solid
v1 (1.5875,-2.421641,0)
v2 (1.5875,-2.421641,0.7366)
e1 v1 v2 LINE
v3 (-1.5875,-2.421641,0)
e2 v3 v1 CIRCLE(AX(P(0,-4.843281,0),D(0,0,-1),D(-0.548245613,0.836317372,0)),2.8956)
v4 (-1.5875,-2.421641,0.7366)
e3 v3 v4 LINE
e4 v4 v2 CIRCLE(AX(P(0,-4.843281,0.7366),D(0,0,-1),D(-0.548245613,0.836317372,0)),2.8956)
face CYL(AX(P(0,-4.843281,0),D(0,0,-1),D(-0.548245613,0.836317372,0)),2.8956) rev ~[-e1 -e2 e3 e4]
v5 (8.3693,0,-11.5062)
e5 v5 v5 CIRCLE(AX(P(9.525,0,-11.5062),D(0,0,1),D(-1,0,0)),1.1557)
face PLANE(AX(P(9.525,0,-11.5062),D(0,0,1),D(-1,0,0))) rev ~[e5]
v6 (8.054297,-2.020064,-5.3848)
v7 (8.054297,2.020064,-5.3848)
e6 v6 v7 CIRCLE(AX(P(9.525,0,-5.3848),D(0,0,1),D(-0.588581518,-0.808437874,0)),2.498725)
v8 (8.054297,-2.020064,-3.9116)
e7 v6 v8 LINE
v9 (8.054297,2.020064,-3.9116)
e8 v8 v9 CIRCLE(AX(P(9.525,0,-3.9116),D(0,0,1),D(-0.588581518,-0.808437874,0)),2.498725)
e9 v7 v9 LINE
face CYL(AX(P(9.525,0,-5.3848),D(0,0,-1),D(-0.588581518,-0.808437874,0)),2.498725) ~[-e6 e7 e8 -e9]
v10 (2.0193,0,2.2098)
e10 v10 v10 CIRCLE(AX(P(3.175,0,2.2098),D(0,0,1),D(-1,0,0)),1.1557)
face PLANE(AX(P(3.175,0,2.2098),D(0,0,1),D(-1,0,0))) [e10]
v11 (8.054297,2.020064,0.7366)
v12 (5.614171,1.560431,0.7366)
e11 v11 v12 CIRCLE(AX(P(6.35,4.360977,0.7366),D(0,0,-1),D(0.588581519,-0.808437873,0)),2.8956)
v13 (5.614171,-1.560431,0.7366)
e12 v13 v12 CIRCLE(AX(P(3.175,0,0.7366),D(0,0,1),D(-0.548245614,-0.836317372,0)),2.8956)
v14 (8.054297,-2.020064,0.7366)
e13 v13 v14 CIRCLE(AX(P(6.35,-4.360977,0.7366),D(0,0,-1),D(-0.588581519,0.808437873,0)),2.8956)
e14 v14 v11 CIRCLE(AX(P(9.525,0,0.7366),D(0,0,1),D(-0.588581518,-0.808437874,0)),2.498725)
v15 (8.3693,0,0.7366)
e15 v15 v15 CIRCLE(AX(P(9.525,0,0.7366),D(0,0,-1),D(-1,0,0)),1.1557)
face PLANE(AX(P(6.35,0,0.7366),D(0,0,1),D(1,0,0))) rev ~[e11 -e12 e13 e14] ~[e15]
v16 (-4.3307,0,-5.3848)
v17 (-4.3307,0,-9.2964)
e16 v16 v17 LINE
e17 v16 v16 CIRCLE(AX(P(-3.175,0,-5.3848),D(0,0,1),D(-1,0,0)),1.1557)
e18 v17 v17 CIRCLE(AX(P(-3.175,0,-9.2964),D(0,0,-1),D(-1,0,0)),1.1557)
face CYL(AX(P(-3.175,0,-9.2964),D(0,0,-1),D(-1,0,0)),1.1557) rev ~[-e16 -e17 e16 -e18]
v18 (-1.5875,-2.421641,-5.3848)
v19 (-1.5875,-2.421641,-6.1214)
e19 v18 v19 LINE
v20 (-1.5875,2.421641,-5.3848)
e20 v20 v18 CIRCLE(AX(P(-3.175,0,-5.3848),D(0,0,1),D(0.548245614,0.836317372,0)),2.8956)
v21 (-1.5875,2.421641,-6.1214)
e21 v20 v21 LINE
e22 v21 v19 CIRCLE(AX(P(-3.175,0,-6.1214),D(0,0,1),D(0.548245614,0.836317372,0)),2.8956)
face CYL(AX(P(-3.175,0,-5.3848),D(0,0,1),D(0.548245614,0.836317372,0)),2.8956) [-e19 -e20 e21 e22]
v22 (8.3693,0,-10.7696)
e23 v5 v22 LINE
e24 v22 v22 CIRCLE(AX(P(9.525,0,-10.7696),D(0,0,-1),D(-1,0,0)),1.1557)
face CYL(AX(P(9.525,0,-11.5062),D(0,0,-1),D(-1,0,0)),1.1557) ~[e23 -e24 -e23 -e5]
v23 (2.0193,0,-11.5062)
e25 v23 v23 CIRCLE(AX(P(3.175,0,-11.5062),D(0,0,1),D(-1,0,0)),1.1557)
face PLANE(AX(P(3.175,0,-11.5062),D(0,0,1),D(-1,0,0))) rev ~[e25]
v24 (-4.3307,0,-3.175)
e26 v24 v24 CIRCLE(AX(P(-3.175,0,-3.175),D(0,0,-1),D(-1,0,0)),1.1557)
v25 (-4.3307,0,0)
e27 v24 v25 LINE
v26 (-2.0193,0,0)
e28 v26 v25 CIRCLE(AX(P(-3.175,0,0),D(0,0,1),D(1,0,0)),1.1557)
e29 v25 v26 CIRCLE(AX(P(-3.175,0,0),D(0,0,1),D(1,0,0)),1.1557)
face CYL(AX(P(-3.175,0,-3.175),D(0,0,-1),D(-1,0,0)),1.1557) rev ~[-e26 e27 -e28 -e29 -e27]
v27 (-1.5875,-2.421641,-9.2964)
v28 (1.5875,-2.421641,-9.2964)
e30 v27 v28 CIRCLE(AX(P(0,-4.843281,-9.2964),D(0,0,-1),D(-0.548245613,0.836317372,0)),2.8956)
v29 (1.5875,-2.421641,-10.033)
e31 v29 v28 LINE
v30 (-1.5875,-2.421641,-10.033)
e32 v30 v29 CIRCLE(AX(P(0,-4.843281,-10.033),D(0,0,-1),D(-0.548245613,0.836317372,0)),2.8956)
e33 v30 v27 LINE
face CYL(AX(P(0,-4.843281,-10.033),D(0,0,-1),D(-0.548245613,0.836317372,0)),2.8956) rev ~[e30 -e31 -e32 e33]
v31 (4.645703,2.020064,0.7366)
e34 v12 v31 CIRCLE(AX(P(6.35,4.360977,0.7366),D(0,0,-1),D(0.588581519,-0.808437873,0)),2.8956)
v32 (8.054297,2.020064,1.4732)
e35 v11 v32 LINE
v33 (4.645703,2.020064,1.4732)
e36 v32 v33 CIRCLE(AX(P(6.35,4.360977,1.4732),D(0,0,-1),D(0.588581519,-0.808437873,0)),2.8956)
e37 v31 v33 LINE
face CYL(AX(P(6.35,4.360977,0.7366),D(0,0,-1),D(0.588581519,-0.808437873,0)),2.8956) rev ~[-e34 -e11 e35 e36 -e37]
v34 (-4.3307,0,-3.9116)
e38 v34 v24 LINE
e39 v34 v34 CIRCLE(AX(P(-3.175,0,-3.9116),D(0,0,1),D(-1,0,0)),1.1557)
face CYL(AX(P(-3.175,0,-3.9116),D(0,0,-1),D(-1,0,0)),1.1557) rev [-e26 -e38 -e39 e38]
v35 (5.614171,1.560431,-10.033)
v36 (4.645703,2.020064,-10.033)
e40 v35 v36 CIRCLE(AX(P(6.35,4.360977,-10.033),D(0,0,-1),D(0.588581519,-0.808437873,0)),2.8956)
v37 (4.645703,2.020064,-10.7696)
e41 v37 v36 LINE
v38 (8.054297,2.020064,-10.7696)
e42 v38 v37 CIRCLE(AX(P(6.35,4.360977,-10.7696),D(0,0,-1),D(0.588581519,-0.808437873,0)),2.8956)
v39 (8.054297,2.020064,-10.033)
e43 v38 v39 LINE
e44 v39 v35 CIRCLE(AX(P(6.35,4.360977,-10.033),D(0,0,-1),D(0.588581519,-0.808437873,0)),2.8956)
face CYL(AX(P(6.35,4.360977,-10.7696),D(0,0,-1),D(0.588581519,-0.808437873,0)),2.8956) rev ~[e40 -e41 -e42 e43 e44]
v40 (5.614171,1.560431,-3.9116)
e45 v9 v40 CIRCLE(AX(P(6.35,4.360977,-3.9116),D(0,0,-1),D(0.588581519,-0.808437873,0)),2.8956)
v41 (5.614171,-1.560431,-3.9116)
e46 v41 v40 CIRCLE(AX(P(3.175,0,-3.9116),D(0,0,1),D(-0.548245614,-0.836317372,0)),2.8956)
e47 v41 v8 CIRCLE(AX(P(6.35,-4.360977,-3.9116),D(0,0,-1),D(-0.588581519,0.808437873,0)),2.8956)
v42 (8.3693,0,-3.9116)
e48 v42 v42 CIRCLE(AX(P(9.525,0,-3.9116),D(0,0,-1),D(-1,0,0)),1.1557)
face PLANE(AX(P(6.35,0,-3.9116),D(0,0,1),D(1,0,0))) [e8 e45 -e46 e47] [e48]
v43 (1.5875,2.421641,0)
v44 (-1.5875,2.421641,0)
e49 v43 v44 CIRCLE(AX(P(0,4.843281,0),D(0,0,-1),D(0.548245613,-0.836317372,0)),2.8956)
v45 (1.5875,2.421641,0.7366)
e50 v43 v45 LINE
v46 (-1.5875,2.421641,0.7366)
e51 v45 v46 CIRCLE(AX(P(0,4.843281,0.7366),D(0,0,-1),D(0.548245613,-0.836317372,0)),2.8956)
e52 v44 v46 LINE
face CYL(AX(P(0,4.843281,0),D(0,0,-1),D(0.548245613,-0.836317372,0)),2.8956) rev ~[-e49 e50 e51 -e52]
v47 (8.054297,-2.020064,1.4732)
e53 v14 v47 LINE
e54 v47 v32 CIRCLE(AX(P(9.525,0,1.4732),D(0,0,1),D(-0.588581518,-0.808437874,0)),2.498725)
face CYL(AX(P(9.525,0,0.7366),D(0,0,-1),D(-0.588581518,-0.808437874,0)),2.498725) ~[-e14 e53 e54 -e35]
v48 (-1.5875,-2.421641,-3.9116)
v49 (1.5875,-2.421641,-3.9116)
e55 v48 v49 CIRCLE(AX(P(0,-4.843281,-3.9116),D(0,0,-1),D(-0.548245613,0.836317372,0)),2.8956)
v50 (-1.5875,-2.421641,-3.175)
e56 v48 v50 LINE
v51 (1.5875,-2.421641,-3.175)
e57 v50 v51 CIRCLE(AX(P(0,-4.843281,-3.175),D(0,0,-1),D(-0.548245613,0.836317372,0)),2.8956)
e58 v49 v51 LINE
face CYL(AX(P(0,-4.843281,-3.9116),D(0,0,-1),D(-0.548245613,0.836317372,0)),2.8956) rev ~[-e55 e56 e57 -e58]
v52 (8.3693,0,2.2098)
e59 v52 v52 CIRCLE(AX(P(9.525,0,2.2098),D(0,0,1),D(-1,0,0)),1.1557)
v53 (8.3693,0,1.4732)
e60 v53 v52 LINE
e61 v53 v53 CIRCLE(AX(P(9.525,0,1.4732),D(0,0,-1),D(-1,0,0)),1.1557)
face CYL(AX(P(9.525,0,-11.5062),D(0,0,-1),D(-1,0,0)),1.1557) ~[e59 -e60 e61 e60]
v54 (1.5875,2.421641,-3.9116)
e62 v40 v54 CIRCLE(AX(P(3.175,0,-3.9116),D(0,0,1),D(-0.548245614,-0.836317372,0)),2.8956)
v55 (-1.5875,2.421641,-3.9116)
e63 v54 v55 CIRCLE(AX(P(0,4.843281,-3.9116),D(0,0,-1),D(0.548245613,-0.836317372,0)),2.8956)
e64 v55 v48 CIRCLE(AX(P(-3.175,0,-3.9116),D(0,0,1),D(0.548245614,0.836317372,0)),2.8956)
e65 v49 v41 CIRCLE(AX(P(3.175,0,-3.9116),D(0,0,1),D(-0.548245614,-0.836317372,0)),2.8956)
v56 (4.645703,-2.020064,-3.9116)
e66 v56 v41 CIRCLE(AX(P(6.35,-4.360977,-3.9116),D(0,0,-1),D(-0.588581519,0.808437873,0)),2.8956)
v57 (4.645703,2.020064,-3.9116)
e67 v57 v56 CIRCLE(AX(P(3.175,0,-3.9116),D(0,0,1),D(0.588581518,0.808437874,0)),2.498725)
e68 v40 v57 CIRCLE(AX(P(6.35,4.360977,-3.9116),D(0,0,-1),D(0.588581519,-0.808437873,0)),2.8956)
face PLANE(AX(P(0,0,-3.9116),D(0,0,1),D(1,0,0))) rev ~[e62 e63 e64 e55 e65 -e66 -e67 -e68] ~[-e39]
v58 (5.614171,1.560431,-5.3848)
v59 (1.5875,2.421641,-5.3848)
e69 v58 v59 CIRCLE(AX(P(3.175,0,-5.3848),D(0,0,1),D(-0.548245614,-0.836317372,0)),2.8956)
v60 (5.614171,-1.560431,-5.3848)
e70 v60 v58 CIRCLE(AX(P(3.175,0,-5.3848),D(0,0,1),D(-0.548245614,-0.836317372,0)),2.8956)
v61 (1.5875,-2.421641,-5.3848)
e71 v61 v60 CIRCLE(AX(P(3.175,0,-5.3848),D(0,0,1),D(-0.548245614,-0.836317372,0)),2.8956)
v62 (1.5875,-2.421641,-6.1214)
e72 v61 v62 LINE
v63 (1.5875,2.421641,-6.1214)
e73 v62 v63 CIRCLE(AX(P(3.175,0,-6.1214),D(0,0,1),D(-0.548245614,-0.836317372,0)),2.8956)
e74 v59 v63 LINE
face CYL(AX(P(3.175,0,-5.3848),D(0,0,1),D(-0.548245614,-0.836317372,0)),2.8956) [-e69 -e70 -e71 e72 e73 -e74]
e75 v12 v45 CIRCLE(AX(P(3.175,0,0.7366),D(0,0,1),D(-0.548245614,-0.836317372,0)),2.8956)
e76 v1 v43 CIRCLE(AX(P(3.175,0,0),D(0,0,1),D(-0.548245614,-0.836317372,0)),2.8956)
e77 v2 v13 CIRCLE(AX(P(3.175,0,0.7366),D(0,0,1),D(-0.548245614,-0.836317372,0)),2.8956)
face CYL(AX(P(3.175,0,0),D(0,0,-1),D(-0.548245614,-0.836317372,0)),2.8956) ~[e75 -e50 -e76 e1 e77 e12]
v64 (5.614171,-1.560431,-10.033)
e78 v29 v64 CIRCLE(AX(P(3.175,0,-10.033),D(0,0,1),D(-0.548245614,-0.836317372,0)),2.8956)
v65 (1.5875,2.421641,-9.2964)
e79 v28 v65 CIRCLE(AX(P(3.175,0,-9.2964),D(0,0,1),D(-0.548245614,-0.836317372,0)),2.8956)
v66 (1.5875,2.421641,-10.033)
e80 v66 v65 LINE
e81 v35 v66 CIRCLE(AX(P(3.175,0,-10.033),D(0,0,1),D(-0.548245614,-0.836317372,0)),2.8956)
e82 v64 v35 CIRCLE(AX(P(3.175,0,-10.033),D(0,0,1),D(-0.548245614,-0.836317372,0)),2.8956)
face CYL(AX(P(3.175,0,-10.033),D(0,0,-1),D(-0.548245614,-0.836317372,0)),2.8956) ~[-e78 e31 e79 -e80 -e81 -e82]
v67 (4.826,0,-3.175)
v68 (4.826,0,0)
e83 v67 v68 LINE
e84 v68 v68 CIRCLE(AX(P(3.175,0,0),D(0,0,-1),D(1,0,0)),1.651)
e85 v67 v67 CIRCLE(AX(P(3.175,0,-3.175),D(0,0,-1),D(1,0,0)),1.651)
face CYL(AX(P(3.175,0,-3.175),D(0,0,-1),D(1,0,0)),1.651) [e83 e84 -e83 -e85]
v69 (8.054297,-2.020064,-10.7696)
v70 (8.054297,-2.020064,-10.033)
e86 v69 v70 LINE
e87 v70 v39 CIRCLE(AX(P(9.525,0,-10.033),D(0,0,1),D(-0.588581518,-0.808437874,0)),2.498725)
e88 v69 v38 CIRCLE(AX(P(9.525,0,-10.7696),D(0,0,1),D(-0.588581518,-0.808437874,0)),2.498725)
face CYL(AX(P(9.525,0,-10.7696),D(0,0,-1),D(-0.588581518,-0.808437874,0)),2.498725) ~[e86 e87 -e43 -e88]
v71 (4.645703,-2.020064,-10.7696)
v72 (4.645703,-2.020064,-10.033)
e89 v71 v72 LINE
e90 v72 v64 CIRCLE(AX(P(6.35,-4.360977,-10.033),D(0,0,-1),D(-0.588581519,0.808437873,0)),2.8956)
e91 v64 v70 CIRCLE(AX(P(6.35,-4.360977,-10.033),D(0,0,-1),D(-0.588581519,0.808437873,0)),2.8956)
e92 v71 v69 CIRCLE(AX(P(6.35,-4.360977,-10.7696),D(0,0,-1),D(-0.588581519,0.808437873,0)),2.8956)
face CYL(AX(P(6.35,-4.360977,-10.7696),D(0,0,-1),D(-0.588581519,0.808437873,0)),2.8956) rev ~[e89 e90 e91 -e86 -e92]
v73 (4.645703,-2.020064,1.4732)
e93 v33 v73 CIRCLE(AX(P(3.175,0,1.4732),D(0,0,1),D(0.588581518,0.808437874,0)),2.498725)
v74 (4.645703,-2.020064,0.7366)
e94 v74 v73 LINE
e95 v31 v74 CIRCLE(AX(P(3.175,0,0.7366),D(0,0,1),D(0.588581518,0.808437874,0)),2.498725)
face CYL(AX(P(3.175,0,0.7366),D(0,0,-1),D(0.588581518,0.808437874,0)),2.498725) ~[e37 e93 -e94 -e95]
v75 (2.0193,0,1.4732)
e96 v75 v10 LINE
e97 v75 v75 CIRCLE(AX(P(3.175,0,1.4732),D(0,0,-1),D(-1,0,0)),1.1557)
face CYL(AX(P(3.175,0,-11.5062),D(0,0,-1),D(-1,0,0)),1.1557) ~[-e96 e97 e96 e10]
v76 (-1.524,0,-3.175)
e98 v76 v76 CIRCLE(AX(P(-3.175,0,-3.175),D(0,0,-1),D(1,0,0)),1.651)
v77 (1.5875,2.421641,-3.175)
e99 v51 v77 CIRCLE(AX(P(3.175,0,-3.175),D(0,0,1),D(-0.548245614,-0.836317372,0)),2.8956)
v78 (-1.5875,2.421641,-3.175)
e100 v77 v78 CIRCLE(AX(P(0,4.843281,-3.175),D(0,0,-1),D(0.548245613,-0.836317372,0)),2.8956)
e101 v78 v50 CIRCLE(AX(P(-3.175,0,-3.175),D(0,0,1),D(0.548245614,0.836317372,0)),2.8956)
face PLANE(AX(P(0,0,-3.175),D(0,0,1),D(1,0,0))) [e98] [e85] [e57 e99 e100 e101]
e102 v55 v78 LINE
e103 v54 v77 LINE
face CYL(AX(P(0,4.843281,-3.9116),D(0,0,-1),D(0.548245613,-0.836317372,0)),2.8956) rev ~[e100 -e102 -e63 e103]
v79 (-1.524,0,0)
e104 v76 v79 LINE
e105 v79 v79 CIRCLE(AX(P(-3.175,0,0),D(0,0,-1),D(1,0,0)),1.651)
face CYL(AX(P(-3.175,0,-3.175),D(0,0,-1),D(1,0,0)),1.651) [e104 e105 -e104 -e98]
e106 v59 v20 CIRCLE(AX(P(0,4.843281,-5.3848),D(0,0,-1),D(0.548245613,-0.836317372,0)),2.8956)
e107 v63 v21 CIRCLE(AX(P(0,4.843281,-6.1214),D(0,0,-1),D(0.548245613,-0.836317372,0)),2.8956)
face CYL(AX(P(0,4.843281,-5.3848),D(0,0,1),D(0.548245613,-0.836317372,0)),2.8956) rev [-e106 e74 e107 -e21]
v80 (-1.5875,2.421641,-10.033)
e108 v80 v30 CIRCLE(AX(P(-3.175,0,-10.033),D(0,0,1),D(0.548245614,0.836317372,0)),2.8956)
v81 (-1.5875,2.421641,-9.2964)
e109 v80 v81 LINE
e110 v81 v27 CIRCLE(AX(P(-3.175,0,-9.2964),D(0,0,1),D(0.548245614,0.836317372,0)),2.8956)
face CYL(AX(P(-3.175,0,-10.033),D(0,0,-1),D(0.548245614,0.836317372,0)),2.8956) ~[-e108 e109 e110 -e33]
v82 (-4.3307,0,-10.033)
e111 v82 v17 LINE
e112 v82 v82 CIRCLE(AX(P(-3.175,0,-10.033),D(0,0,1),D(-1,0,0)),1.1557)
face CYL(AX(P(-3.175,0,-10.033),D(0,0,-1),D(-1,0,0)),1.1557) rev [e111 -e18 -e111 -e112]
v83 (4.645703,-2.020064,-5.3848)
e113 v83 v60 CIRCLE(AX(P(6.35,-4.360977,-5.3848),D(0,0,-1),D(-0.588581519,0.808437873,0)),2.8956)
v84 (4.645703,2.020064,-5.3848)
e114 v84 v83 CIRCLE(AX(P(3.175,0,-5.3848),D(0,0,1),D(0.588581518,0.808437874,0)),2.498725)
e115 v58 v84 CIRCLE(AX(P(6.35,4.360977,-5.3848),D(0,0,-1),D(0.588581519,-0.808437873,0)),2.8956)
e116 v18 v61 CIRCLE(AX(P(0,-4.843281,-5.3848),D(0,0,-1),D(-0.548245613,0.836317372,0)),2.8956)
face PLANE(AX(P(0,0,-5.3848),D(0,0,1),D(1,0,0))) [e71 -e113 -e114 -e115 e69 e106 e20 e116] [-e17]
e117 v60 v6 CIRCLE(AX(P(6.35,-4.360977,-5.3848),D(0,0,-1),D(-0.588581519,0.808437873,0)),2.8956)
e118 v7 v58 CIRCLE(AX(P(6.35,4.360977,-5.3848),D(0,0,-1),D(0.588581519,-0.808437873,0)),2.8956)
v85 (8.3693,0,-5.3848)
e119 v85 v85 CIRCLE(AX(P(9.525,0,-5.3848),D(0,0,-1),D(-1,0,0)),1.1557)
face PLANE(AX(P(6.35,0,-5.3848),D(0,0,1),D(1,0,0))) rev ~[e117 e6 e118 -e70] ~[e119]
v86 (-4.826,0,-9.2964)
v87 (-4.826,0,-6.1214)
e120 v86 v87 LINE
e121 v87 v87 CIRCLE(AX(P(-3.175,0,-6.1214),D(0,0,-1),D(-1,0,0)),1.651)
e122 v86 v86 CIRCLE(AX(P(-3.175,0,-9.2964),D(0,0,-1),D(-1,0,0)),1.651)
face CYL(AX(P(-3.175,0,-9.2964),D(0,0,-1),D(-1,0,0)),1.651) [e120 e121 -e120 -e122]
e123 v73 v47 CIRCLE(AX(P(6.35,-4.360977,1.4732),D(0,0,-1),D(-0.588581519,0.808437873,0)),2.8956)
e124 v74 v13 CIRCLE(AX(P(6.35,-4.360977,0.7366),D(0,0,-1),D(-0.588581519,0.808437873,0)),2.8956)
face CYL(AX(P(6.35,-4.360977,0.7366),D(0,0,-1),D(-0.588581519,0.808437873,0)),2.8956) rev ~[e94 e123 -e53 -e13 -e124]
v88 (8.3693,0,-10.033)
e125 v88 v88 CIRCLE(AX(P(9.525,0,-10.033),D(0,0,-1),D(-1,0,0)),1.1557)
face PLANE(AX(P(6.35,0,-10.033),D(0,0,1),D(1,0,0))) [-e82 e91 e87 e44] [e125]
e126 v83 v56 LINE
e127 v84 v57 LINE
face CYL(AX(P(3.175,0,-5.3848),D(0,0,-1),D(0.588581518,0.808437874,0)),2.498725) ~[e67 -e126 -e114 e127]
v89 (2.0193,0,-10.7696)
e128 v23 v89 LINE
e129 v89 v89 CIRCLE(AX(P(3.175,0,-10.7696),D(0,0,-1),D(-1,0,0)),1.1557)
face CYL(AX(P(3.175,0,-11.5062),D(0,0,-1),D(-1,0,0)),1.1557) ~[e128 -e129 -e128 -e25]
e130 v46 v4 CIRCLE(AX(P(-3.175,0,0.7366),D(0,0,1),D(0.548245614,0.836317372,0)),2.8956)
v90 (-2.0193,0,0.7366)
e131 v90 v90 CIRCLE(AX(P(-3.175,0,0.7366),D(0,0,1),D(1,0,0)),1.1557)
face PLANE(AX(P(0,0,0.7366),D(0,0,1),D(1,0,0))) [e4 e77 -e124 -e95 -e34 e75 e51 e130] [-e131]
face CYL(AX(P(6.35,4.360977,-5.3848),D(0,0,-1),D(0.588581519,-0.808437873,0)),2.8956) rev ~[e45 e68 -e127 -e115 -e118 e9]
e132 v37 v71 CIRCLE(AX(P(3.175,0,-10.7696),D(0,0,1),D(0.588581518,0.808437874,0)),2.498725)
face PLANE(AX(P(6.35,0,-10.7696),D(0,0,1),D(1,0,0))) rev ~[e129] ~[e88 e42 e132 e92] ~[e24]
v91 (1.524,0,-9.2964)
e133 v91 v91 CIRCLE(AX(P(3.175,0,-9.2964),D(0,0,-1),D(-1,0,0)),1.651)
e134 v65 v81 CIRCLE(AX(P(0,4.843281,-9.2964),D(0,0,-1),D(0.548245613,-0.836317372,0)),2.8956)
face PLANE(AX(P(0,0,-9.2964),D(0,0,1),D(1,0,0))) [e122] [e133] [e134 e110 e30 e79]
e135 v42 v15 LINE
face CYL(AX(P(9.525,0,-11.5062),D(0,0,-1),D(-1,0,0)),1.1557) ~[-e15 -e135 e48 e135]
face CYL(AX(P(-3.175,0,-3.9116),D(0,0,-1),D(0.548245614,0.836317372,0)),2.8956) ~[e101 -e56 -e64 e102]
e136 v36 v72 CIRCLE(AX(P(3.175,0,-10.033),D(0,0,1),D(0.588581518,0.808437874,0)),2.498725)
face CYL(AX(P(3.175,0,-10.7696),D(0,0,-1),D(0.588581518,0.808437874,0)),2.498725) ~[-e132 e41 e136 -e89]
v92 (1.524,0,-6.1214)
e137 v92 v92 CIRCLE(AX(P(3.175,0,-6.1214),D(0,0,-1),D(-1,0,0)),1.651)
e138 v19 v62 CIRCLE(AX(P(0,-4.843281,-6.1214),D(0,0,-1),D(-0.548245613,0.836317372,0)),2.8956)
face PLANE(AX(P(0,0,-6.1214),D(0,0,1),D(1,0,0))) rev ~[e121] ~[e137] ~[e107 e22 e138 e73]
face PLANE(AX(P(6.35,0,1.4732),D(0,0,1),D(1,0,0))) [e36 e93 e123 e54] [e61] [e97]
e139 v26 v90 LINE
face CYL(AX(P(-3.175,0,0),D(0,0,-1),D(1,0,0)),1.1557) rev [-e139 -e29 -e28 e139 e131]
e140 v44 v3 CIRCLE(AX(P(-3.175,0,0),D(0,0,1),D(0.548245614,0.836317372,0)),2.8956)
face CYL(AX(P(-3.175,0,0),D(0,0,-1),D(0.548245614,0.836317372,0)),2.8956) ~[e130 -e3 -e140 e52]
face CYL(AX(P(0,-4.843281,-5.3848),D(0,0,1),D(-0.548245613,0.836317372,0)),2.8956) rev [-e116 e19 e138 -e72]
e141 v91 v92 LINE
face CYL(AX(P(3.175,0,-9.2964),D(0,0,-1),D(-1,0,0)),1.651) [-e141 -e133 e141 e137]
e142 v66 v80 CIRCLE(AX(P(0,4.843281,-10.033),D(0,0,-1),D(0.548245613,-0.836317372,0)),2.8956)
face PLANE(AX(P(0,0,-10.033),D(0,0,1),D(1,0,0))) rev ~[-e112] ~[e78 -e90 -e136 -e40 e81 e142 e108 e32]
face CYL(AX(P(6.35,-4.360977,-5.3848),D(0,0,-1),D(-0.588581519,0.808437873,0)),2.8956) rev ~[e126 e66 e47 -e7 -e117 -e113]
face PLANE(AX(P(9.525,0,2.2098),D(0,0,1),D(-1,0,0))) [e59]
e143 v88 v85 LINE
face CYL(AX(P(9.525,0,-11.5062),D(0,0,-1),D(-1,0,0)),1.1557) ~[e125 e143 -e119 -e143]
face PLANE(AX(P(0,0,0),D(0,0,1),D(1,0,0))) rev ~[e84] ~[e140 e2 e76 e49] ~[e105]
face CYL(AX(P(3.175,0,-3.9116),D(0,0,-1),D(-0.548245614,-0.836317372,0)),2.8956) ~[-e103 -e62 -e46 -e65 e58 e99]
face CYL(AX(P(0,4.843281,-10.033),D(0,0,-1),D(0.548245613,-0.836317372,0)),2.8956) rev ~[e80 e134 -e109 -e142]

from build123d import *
from build123d.topology import SkipClean

# Parameters (mm, degrees)
SKETCH1_R                 = 1.1557
BOSS_EXTRUDE1_DEPTH       = 0.7366
BOSS_EXTRUDE2_START       = 3.175
SKETCH2_R                 = 1.651
SKETCH2_R_2               = 1.1557
BOSS_EXTRUDE2_DEPTH       = 3.175
BOSS_EXTRUDE3_START       = -3.9116
SKETCH1_2_R               = 1.1557
BOSS_EXTRUDE3_DEPTH       = 0.7366
BOSS_EXTRUDE4_START       = -5.3848
SKETCH1_3_R               = 1.1557
BOSS_EXTRUDE4_DEPTH       = 0.7366
BOSS_EXTRUDE5_START       = 9.2964
SKETCH2_2_R               = 1.651
SKETCH2_2_R_2             = 1.1557
BOSS_EXTRUDE5_DEPTH       = 3.175
BOSS_EXTRUDE6_START       = -10.033
SKETCH1_4_R               = 1.1557
BOSS_EXTRUDE6_DEPTH       = 0.7366
BOSS_EXTRUDE7_DEPTH       = 0.7366
BOSS_EXTRUDE8_START       = -6.1214
BOSS_EXTRUDE8_DEPTH       = 1.4732
BOSS_EXTRUDE9_START       = -11.5062
BOSS_EXTRUDE9_DEPTH       = 0.7366
BOSS_EXTRUDE10_DEPTH      = 0.7366
BOSS_EXTRUDE10_DEPTH_BACK = 12.9794
SKETCH4_R                 = 1.1557


with BuildPart() as part:
    # Sketch1 → Boss-Extrude1 (new body)
    with BuildSketch(Plane.XY):
        with BuildLine():
            ThreePointArc((-1.5875, 2.421640582), (-6.0706, 0), (-1.5875, -2.421640582))
            ThreePointArc((-1.5875, -2.421640582), (0, -1.947681165), (1.5875, -2.421640582))
            ThreePointArc((1.5875, -2.421640582), (6.0706, 0), (1.5875, 2.421640582))
            ThreePointArc((1.5875, 2.421640582), (0, 1.947681165), (-1.5875, 2.421640582))
        make_face()
        with Locations((-3.175, 0)):
            Circle(SKETCH1_R, mode=Mode.SUBTRACT)
        with Locations((3.175, 0)):
            Circle(SKETCH1_R, mode=Mode.SUBTRACT)
    extrude(amount=BOSS_EXTRUDE1_DEPTH)

    # Sketch2 → Boss-Extrude2 (add)
    # profile 1 of 2: a face of its own
    with SkipClean():  # the faces are left unmerged after this step: merging them gives an invalid solid
        with BuildSketch(Plane(origin=(0, 0, 0), x_dir=(-1, 0, 0), z_dir=(0, 0, -1)).offset(BOSS_EXTRUDE2_START)):
            with Locations(Location((3.175, 0, 0), (0, 0, 180))):
                Circle(SKETCH2_R)
            with Locations((3.175, 0)):
                Circle(SKETCH2_R_2, mode=Mode.SUBTRACT)
        # profile 2 of 2: a face of its own
        with BuildSketch(Plane(origin=(0, 0, 0), x_dir=(-1, 0, 0), z_dir=(0, 0, -1)).offset(BOSS_EXTRUDE2_START)):
            with Locations(Location((-3.175, 0, 0), (0, 0, 180))):
                Circle(SKETCH2_R)
            with Locations((-3.175, 0)):
                Circle(SKETCH2_R_2, mode=Mode.SUBTRACT)
        extrude(amount=-BOSS_EXTRUDE2_DEPTH)

    # Sketch1<2> → Boss-Extrude3 (add)
    with SkipClean():  # the faces are left unmerged after this step: merging them gives an invalid solid
        with BuildSketch(Plane.XY.offset(BOSS_EXTRUDE3_START)):
            with BuildLine():
                ThreePointArc((-1.5875, 2.421640582), (-6.0706, 0), (-1.5875, -2.421640582))
                ThreePointArc((-1.5875, -2.421640582), (0, -1.947681165), (1.5875, -2.421640582))
                ThreePointArc((1.5875, -2.421640582), (6.0706, 0), (1.5875, 2.421640582))
                ThreePointArc((1.5875, 2.421640582), (0, 1.947681165), (-1.5875, 2.421640582))
            make_face()
            with Locations(Location((-3.175, 0, 0), (0, 0, 180))):
                Circle(SKETCH1_2_R, mode=Mode.SUBTRACT)
            with Locations(Location((3.175, 0, 0), (0, 0, 180))):
                Circle(SKETCH1_2_R, mode=Mode.SUBTRACT)
        extrude(amount=BOSS_EXTRUDE3_DEPTH)

    # Sketch3 → Boss-Extrude7 (add)
    with SkipClean():  # the faces are left unmerged after this step: merging them gives an invalid solid
        with BuildSketch(Plane.XY.offset(0.7366)):
            with BuildLine():
                ThreePointArc((4.645703355, 2.020063927), (0.676275, 0), (4.645703355, -2.020063927))
                ThreePointArc((4.645703355, -2.020063927), (6.35, -1.465376634), (8.054296645, -2.020063927))
                ThreePointArc((8.054296645, -2.020063927), (12.023725, 0), (8.054296645, 2.020063927))
                ThreePointArc((8.054296645, 2.020063927), (6.35, 1.465376634), (4.645703355, 2.020063927))
            make_face()
        extrude(amount=BOSS_EXTRUDE7_DEPTH)



with BuildPart() as body_2:
    # Sketch1<3> → Boss-Extrude4 (new body)
    with BuildSketch(Plane.XY.offset(BOSS_EXTRUDE4_START)):
        with BuildLine():
            ThreePointArc((-1.5875, 2.421640582), (-6.0706, 0), (-1.5875, -2.421640582))
            ThreePointArc((-1.5875, -2.421640582), (0, -1.947681165), (1.5875, -2.421640582))
            ThreePointArc((1.5875, -2.421640582), (6.0706, 0), (1.5875, 2.421640582))
            ThreePointArc((1.5875, 2.421640582), (0, 1.947681165), (-1.5875, 2.421640582))
        make_face()
        with Locations(Location((-3.175, 0, 0), (0, 0, 180))):
            Circle(SKETCH1_3_R, mode=Mode.SUBTRACT)
        with Locations(Location((3.175, 0, 0), (0, 0, 180))):
            Circle(SKETCH1_3_R, mode=Mode.SUBTRACT)
    extrude(amount=-BOSS_EXTRUDE4_DEPTH)

    # Sketch2<2> → Boss-Extrude5 (add)
    # profile 1 of 2: a face of its own
    with BuildSketch(Plane(origin=(0, 0, 0), x_dir=(-1, 0, 0), z_dir=(0, 0, -1)).offset(BOSS_EXTRUDE5_START)):
        with Locations((3.175, 0)):
            Circle(SKETCH2_2_R)
        with Locations((3.175, 0)):
            Circle(SKETCH2_2_R_2, mode=Mode.SUBTRACT)
    # profile 2 of 2: a face of its own
    with BuildSketch(Plane(origin=(0, 0, 0), x_dir=(-1, 0, 0), z_dir=(0, 0, -1)).offset(BOSS_EXTRUDE5_START)):
        with Locations((-3.175, 0)):
            Circle(SKETCH2_2_R)
        with Locations((-3.175, 0)):
            Circle(SKETCH2_2_R_2, mode=Mode.SUBTRACT)
    extrude(amount=-BOSS_EXTRUDE5_DEPTH)

    # Sketch1<4> → Boss-Extrude6 (add)
    with BuildSketch(Plane.XY.offset(BOSS_EXTRUDE6_START)):
        with BuildLine():
            ThreePointArc((-1.5875, 2.421640582), (-6.0706, 0), (-1.5875, -2.421640582))
            ThreePointArc((-1.5875, -2.421640582), (0, -1.947681165), (1.5875, -2.421640582))
            ThreePointArc((1.5875, -2.421640582), (6.0706, 0), (1.5875, 2.421640582))
            ThreePointArc((1.5875, 2.421640582), (0, 1.947681165), (-1.5875, 2.421640582))
        make_face()
        with Locations(Location((-3.175, 0, 0), (0, 0, 180))):
            Circle(SKETCH1_4_R, mode=Mode.SUBTRACT)
        with Locations(Location((3.175, 0, 0), (0, 0, 180))):
            Circle(SKETCH1_4_R, mode=Mode.SUBTRACT)
    extrude(amount=BOSS_EXTRUDE6_DEPTH)


with BuildPart() as part_1:
    with SkipClean():  # the faces are left unmerged after this step: merging them gives an invalid solid
        add(part.part)

        add(body_2.part)  # Boss-Extrude8 merges body 2
        # Sketch3<2> → Boss-Extrude8 (add)
        with BuildSketch(Plane.XY.offset(0.7366).offset(BOSS_EXTRUDE8_START)):
            with BuildLine():
                ThreePointArc((4.645703355, 2.020063927), (0.676275, 0), (4.645703355, -2.020063927))
                ThreePointArc((4.645703355, -2.020063927), (6.35, -1.465376634), (8.054296645, -2.020063927))
                ThreePointArc((8.054296645, -2.020063927), (12.023725, 0), (8.054296645, 2.020063927))
                ThreePointArc((8.054296645, 2.020063927), (6.35, 1.465376634), (4.645703355, 2.020063927))
            make_face()
        extrude(amount=BOSS_EXTRUDE8_DEPTH)

    # Sketch3<3> → Boss-Extrude9 (add)
    with BuildSketch(Plane.XY.offset(0.7366).offset(BOSS_EXTRUDE9_START)):
        with BuildLine():
            ThreePointArc((4.645703355, 2.020063927), (0.676275, 0), (4.645703355, -2.020063927))
            ThreePointArc((4.645703355, -2.020063927), (6.35, -1.465376634), (8.054296645, -2.020063927))
            ThreePointArc((8.054296645, -2.020063927), (12.023725, 0), (8.054296645, 2.020063927))
            ThreePointArc((8.054296645, 2.020063927), (6.35, 1.465376634), (4.645703355, 2.020063927))
        make_face()
    extrude(amount=BOSS_EXTRUDE9_DEPTH)

    # Sketch4 → Boss-Extrude10 (add, two sides: drawn at the far end of the back side and taken through both)
    with BuildSketch(Plane.XY.offset(1.4732).offset(-BOSS_EXTRUDE10_DEPTH_BACK)):
        with Locations(Location((3.175, 0, 0), (0, 0, 180))):
            Circle(SKETCH4_R)
        with Locations(Location((9.525, 0, 0), (0, 0, 180))):
            Circle(SKETCH4_R)
    extrude(amount=BOSS_EXTRUDE10_DEPTH + BOSS_EXTRUDE10_DEPTH_BACK)


solid = part_1.part
